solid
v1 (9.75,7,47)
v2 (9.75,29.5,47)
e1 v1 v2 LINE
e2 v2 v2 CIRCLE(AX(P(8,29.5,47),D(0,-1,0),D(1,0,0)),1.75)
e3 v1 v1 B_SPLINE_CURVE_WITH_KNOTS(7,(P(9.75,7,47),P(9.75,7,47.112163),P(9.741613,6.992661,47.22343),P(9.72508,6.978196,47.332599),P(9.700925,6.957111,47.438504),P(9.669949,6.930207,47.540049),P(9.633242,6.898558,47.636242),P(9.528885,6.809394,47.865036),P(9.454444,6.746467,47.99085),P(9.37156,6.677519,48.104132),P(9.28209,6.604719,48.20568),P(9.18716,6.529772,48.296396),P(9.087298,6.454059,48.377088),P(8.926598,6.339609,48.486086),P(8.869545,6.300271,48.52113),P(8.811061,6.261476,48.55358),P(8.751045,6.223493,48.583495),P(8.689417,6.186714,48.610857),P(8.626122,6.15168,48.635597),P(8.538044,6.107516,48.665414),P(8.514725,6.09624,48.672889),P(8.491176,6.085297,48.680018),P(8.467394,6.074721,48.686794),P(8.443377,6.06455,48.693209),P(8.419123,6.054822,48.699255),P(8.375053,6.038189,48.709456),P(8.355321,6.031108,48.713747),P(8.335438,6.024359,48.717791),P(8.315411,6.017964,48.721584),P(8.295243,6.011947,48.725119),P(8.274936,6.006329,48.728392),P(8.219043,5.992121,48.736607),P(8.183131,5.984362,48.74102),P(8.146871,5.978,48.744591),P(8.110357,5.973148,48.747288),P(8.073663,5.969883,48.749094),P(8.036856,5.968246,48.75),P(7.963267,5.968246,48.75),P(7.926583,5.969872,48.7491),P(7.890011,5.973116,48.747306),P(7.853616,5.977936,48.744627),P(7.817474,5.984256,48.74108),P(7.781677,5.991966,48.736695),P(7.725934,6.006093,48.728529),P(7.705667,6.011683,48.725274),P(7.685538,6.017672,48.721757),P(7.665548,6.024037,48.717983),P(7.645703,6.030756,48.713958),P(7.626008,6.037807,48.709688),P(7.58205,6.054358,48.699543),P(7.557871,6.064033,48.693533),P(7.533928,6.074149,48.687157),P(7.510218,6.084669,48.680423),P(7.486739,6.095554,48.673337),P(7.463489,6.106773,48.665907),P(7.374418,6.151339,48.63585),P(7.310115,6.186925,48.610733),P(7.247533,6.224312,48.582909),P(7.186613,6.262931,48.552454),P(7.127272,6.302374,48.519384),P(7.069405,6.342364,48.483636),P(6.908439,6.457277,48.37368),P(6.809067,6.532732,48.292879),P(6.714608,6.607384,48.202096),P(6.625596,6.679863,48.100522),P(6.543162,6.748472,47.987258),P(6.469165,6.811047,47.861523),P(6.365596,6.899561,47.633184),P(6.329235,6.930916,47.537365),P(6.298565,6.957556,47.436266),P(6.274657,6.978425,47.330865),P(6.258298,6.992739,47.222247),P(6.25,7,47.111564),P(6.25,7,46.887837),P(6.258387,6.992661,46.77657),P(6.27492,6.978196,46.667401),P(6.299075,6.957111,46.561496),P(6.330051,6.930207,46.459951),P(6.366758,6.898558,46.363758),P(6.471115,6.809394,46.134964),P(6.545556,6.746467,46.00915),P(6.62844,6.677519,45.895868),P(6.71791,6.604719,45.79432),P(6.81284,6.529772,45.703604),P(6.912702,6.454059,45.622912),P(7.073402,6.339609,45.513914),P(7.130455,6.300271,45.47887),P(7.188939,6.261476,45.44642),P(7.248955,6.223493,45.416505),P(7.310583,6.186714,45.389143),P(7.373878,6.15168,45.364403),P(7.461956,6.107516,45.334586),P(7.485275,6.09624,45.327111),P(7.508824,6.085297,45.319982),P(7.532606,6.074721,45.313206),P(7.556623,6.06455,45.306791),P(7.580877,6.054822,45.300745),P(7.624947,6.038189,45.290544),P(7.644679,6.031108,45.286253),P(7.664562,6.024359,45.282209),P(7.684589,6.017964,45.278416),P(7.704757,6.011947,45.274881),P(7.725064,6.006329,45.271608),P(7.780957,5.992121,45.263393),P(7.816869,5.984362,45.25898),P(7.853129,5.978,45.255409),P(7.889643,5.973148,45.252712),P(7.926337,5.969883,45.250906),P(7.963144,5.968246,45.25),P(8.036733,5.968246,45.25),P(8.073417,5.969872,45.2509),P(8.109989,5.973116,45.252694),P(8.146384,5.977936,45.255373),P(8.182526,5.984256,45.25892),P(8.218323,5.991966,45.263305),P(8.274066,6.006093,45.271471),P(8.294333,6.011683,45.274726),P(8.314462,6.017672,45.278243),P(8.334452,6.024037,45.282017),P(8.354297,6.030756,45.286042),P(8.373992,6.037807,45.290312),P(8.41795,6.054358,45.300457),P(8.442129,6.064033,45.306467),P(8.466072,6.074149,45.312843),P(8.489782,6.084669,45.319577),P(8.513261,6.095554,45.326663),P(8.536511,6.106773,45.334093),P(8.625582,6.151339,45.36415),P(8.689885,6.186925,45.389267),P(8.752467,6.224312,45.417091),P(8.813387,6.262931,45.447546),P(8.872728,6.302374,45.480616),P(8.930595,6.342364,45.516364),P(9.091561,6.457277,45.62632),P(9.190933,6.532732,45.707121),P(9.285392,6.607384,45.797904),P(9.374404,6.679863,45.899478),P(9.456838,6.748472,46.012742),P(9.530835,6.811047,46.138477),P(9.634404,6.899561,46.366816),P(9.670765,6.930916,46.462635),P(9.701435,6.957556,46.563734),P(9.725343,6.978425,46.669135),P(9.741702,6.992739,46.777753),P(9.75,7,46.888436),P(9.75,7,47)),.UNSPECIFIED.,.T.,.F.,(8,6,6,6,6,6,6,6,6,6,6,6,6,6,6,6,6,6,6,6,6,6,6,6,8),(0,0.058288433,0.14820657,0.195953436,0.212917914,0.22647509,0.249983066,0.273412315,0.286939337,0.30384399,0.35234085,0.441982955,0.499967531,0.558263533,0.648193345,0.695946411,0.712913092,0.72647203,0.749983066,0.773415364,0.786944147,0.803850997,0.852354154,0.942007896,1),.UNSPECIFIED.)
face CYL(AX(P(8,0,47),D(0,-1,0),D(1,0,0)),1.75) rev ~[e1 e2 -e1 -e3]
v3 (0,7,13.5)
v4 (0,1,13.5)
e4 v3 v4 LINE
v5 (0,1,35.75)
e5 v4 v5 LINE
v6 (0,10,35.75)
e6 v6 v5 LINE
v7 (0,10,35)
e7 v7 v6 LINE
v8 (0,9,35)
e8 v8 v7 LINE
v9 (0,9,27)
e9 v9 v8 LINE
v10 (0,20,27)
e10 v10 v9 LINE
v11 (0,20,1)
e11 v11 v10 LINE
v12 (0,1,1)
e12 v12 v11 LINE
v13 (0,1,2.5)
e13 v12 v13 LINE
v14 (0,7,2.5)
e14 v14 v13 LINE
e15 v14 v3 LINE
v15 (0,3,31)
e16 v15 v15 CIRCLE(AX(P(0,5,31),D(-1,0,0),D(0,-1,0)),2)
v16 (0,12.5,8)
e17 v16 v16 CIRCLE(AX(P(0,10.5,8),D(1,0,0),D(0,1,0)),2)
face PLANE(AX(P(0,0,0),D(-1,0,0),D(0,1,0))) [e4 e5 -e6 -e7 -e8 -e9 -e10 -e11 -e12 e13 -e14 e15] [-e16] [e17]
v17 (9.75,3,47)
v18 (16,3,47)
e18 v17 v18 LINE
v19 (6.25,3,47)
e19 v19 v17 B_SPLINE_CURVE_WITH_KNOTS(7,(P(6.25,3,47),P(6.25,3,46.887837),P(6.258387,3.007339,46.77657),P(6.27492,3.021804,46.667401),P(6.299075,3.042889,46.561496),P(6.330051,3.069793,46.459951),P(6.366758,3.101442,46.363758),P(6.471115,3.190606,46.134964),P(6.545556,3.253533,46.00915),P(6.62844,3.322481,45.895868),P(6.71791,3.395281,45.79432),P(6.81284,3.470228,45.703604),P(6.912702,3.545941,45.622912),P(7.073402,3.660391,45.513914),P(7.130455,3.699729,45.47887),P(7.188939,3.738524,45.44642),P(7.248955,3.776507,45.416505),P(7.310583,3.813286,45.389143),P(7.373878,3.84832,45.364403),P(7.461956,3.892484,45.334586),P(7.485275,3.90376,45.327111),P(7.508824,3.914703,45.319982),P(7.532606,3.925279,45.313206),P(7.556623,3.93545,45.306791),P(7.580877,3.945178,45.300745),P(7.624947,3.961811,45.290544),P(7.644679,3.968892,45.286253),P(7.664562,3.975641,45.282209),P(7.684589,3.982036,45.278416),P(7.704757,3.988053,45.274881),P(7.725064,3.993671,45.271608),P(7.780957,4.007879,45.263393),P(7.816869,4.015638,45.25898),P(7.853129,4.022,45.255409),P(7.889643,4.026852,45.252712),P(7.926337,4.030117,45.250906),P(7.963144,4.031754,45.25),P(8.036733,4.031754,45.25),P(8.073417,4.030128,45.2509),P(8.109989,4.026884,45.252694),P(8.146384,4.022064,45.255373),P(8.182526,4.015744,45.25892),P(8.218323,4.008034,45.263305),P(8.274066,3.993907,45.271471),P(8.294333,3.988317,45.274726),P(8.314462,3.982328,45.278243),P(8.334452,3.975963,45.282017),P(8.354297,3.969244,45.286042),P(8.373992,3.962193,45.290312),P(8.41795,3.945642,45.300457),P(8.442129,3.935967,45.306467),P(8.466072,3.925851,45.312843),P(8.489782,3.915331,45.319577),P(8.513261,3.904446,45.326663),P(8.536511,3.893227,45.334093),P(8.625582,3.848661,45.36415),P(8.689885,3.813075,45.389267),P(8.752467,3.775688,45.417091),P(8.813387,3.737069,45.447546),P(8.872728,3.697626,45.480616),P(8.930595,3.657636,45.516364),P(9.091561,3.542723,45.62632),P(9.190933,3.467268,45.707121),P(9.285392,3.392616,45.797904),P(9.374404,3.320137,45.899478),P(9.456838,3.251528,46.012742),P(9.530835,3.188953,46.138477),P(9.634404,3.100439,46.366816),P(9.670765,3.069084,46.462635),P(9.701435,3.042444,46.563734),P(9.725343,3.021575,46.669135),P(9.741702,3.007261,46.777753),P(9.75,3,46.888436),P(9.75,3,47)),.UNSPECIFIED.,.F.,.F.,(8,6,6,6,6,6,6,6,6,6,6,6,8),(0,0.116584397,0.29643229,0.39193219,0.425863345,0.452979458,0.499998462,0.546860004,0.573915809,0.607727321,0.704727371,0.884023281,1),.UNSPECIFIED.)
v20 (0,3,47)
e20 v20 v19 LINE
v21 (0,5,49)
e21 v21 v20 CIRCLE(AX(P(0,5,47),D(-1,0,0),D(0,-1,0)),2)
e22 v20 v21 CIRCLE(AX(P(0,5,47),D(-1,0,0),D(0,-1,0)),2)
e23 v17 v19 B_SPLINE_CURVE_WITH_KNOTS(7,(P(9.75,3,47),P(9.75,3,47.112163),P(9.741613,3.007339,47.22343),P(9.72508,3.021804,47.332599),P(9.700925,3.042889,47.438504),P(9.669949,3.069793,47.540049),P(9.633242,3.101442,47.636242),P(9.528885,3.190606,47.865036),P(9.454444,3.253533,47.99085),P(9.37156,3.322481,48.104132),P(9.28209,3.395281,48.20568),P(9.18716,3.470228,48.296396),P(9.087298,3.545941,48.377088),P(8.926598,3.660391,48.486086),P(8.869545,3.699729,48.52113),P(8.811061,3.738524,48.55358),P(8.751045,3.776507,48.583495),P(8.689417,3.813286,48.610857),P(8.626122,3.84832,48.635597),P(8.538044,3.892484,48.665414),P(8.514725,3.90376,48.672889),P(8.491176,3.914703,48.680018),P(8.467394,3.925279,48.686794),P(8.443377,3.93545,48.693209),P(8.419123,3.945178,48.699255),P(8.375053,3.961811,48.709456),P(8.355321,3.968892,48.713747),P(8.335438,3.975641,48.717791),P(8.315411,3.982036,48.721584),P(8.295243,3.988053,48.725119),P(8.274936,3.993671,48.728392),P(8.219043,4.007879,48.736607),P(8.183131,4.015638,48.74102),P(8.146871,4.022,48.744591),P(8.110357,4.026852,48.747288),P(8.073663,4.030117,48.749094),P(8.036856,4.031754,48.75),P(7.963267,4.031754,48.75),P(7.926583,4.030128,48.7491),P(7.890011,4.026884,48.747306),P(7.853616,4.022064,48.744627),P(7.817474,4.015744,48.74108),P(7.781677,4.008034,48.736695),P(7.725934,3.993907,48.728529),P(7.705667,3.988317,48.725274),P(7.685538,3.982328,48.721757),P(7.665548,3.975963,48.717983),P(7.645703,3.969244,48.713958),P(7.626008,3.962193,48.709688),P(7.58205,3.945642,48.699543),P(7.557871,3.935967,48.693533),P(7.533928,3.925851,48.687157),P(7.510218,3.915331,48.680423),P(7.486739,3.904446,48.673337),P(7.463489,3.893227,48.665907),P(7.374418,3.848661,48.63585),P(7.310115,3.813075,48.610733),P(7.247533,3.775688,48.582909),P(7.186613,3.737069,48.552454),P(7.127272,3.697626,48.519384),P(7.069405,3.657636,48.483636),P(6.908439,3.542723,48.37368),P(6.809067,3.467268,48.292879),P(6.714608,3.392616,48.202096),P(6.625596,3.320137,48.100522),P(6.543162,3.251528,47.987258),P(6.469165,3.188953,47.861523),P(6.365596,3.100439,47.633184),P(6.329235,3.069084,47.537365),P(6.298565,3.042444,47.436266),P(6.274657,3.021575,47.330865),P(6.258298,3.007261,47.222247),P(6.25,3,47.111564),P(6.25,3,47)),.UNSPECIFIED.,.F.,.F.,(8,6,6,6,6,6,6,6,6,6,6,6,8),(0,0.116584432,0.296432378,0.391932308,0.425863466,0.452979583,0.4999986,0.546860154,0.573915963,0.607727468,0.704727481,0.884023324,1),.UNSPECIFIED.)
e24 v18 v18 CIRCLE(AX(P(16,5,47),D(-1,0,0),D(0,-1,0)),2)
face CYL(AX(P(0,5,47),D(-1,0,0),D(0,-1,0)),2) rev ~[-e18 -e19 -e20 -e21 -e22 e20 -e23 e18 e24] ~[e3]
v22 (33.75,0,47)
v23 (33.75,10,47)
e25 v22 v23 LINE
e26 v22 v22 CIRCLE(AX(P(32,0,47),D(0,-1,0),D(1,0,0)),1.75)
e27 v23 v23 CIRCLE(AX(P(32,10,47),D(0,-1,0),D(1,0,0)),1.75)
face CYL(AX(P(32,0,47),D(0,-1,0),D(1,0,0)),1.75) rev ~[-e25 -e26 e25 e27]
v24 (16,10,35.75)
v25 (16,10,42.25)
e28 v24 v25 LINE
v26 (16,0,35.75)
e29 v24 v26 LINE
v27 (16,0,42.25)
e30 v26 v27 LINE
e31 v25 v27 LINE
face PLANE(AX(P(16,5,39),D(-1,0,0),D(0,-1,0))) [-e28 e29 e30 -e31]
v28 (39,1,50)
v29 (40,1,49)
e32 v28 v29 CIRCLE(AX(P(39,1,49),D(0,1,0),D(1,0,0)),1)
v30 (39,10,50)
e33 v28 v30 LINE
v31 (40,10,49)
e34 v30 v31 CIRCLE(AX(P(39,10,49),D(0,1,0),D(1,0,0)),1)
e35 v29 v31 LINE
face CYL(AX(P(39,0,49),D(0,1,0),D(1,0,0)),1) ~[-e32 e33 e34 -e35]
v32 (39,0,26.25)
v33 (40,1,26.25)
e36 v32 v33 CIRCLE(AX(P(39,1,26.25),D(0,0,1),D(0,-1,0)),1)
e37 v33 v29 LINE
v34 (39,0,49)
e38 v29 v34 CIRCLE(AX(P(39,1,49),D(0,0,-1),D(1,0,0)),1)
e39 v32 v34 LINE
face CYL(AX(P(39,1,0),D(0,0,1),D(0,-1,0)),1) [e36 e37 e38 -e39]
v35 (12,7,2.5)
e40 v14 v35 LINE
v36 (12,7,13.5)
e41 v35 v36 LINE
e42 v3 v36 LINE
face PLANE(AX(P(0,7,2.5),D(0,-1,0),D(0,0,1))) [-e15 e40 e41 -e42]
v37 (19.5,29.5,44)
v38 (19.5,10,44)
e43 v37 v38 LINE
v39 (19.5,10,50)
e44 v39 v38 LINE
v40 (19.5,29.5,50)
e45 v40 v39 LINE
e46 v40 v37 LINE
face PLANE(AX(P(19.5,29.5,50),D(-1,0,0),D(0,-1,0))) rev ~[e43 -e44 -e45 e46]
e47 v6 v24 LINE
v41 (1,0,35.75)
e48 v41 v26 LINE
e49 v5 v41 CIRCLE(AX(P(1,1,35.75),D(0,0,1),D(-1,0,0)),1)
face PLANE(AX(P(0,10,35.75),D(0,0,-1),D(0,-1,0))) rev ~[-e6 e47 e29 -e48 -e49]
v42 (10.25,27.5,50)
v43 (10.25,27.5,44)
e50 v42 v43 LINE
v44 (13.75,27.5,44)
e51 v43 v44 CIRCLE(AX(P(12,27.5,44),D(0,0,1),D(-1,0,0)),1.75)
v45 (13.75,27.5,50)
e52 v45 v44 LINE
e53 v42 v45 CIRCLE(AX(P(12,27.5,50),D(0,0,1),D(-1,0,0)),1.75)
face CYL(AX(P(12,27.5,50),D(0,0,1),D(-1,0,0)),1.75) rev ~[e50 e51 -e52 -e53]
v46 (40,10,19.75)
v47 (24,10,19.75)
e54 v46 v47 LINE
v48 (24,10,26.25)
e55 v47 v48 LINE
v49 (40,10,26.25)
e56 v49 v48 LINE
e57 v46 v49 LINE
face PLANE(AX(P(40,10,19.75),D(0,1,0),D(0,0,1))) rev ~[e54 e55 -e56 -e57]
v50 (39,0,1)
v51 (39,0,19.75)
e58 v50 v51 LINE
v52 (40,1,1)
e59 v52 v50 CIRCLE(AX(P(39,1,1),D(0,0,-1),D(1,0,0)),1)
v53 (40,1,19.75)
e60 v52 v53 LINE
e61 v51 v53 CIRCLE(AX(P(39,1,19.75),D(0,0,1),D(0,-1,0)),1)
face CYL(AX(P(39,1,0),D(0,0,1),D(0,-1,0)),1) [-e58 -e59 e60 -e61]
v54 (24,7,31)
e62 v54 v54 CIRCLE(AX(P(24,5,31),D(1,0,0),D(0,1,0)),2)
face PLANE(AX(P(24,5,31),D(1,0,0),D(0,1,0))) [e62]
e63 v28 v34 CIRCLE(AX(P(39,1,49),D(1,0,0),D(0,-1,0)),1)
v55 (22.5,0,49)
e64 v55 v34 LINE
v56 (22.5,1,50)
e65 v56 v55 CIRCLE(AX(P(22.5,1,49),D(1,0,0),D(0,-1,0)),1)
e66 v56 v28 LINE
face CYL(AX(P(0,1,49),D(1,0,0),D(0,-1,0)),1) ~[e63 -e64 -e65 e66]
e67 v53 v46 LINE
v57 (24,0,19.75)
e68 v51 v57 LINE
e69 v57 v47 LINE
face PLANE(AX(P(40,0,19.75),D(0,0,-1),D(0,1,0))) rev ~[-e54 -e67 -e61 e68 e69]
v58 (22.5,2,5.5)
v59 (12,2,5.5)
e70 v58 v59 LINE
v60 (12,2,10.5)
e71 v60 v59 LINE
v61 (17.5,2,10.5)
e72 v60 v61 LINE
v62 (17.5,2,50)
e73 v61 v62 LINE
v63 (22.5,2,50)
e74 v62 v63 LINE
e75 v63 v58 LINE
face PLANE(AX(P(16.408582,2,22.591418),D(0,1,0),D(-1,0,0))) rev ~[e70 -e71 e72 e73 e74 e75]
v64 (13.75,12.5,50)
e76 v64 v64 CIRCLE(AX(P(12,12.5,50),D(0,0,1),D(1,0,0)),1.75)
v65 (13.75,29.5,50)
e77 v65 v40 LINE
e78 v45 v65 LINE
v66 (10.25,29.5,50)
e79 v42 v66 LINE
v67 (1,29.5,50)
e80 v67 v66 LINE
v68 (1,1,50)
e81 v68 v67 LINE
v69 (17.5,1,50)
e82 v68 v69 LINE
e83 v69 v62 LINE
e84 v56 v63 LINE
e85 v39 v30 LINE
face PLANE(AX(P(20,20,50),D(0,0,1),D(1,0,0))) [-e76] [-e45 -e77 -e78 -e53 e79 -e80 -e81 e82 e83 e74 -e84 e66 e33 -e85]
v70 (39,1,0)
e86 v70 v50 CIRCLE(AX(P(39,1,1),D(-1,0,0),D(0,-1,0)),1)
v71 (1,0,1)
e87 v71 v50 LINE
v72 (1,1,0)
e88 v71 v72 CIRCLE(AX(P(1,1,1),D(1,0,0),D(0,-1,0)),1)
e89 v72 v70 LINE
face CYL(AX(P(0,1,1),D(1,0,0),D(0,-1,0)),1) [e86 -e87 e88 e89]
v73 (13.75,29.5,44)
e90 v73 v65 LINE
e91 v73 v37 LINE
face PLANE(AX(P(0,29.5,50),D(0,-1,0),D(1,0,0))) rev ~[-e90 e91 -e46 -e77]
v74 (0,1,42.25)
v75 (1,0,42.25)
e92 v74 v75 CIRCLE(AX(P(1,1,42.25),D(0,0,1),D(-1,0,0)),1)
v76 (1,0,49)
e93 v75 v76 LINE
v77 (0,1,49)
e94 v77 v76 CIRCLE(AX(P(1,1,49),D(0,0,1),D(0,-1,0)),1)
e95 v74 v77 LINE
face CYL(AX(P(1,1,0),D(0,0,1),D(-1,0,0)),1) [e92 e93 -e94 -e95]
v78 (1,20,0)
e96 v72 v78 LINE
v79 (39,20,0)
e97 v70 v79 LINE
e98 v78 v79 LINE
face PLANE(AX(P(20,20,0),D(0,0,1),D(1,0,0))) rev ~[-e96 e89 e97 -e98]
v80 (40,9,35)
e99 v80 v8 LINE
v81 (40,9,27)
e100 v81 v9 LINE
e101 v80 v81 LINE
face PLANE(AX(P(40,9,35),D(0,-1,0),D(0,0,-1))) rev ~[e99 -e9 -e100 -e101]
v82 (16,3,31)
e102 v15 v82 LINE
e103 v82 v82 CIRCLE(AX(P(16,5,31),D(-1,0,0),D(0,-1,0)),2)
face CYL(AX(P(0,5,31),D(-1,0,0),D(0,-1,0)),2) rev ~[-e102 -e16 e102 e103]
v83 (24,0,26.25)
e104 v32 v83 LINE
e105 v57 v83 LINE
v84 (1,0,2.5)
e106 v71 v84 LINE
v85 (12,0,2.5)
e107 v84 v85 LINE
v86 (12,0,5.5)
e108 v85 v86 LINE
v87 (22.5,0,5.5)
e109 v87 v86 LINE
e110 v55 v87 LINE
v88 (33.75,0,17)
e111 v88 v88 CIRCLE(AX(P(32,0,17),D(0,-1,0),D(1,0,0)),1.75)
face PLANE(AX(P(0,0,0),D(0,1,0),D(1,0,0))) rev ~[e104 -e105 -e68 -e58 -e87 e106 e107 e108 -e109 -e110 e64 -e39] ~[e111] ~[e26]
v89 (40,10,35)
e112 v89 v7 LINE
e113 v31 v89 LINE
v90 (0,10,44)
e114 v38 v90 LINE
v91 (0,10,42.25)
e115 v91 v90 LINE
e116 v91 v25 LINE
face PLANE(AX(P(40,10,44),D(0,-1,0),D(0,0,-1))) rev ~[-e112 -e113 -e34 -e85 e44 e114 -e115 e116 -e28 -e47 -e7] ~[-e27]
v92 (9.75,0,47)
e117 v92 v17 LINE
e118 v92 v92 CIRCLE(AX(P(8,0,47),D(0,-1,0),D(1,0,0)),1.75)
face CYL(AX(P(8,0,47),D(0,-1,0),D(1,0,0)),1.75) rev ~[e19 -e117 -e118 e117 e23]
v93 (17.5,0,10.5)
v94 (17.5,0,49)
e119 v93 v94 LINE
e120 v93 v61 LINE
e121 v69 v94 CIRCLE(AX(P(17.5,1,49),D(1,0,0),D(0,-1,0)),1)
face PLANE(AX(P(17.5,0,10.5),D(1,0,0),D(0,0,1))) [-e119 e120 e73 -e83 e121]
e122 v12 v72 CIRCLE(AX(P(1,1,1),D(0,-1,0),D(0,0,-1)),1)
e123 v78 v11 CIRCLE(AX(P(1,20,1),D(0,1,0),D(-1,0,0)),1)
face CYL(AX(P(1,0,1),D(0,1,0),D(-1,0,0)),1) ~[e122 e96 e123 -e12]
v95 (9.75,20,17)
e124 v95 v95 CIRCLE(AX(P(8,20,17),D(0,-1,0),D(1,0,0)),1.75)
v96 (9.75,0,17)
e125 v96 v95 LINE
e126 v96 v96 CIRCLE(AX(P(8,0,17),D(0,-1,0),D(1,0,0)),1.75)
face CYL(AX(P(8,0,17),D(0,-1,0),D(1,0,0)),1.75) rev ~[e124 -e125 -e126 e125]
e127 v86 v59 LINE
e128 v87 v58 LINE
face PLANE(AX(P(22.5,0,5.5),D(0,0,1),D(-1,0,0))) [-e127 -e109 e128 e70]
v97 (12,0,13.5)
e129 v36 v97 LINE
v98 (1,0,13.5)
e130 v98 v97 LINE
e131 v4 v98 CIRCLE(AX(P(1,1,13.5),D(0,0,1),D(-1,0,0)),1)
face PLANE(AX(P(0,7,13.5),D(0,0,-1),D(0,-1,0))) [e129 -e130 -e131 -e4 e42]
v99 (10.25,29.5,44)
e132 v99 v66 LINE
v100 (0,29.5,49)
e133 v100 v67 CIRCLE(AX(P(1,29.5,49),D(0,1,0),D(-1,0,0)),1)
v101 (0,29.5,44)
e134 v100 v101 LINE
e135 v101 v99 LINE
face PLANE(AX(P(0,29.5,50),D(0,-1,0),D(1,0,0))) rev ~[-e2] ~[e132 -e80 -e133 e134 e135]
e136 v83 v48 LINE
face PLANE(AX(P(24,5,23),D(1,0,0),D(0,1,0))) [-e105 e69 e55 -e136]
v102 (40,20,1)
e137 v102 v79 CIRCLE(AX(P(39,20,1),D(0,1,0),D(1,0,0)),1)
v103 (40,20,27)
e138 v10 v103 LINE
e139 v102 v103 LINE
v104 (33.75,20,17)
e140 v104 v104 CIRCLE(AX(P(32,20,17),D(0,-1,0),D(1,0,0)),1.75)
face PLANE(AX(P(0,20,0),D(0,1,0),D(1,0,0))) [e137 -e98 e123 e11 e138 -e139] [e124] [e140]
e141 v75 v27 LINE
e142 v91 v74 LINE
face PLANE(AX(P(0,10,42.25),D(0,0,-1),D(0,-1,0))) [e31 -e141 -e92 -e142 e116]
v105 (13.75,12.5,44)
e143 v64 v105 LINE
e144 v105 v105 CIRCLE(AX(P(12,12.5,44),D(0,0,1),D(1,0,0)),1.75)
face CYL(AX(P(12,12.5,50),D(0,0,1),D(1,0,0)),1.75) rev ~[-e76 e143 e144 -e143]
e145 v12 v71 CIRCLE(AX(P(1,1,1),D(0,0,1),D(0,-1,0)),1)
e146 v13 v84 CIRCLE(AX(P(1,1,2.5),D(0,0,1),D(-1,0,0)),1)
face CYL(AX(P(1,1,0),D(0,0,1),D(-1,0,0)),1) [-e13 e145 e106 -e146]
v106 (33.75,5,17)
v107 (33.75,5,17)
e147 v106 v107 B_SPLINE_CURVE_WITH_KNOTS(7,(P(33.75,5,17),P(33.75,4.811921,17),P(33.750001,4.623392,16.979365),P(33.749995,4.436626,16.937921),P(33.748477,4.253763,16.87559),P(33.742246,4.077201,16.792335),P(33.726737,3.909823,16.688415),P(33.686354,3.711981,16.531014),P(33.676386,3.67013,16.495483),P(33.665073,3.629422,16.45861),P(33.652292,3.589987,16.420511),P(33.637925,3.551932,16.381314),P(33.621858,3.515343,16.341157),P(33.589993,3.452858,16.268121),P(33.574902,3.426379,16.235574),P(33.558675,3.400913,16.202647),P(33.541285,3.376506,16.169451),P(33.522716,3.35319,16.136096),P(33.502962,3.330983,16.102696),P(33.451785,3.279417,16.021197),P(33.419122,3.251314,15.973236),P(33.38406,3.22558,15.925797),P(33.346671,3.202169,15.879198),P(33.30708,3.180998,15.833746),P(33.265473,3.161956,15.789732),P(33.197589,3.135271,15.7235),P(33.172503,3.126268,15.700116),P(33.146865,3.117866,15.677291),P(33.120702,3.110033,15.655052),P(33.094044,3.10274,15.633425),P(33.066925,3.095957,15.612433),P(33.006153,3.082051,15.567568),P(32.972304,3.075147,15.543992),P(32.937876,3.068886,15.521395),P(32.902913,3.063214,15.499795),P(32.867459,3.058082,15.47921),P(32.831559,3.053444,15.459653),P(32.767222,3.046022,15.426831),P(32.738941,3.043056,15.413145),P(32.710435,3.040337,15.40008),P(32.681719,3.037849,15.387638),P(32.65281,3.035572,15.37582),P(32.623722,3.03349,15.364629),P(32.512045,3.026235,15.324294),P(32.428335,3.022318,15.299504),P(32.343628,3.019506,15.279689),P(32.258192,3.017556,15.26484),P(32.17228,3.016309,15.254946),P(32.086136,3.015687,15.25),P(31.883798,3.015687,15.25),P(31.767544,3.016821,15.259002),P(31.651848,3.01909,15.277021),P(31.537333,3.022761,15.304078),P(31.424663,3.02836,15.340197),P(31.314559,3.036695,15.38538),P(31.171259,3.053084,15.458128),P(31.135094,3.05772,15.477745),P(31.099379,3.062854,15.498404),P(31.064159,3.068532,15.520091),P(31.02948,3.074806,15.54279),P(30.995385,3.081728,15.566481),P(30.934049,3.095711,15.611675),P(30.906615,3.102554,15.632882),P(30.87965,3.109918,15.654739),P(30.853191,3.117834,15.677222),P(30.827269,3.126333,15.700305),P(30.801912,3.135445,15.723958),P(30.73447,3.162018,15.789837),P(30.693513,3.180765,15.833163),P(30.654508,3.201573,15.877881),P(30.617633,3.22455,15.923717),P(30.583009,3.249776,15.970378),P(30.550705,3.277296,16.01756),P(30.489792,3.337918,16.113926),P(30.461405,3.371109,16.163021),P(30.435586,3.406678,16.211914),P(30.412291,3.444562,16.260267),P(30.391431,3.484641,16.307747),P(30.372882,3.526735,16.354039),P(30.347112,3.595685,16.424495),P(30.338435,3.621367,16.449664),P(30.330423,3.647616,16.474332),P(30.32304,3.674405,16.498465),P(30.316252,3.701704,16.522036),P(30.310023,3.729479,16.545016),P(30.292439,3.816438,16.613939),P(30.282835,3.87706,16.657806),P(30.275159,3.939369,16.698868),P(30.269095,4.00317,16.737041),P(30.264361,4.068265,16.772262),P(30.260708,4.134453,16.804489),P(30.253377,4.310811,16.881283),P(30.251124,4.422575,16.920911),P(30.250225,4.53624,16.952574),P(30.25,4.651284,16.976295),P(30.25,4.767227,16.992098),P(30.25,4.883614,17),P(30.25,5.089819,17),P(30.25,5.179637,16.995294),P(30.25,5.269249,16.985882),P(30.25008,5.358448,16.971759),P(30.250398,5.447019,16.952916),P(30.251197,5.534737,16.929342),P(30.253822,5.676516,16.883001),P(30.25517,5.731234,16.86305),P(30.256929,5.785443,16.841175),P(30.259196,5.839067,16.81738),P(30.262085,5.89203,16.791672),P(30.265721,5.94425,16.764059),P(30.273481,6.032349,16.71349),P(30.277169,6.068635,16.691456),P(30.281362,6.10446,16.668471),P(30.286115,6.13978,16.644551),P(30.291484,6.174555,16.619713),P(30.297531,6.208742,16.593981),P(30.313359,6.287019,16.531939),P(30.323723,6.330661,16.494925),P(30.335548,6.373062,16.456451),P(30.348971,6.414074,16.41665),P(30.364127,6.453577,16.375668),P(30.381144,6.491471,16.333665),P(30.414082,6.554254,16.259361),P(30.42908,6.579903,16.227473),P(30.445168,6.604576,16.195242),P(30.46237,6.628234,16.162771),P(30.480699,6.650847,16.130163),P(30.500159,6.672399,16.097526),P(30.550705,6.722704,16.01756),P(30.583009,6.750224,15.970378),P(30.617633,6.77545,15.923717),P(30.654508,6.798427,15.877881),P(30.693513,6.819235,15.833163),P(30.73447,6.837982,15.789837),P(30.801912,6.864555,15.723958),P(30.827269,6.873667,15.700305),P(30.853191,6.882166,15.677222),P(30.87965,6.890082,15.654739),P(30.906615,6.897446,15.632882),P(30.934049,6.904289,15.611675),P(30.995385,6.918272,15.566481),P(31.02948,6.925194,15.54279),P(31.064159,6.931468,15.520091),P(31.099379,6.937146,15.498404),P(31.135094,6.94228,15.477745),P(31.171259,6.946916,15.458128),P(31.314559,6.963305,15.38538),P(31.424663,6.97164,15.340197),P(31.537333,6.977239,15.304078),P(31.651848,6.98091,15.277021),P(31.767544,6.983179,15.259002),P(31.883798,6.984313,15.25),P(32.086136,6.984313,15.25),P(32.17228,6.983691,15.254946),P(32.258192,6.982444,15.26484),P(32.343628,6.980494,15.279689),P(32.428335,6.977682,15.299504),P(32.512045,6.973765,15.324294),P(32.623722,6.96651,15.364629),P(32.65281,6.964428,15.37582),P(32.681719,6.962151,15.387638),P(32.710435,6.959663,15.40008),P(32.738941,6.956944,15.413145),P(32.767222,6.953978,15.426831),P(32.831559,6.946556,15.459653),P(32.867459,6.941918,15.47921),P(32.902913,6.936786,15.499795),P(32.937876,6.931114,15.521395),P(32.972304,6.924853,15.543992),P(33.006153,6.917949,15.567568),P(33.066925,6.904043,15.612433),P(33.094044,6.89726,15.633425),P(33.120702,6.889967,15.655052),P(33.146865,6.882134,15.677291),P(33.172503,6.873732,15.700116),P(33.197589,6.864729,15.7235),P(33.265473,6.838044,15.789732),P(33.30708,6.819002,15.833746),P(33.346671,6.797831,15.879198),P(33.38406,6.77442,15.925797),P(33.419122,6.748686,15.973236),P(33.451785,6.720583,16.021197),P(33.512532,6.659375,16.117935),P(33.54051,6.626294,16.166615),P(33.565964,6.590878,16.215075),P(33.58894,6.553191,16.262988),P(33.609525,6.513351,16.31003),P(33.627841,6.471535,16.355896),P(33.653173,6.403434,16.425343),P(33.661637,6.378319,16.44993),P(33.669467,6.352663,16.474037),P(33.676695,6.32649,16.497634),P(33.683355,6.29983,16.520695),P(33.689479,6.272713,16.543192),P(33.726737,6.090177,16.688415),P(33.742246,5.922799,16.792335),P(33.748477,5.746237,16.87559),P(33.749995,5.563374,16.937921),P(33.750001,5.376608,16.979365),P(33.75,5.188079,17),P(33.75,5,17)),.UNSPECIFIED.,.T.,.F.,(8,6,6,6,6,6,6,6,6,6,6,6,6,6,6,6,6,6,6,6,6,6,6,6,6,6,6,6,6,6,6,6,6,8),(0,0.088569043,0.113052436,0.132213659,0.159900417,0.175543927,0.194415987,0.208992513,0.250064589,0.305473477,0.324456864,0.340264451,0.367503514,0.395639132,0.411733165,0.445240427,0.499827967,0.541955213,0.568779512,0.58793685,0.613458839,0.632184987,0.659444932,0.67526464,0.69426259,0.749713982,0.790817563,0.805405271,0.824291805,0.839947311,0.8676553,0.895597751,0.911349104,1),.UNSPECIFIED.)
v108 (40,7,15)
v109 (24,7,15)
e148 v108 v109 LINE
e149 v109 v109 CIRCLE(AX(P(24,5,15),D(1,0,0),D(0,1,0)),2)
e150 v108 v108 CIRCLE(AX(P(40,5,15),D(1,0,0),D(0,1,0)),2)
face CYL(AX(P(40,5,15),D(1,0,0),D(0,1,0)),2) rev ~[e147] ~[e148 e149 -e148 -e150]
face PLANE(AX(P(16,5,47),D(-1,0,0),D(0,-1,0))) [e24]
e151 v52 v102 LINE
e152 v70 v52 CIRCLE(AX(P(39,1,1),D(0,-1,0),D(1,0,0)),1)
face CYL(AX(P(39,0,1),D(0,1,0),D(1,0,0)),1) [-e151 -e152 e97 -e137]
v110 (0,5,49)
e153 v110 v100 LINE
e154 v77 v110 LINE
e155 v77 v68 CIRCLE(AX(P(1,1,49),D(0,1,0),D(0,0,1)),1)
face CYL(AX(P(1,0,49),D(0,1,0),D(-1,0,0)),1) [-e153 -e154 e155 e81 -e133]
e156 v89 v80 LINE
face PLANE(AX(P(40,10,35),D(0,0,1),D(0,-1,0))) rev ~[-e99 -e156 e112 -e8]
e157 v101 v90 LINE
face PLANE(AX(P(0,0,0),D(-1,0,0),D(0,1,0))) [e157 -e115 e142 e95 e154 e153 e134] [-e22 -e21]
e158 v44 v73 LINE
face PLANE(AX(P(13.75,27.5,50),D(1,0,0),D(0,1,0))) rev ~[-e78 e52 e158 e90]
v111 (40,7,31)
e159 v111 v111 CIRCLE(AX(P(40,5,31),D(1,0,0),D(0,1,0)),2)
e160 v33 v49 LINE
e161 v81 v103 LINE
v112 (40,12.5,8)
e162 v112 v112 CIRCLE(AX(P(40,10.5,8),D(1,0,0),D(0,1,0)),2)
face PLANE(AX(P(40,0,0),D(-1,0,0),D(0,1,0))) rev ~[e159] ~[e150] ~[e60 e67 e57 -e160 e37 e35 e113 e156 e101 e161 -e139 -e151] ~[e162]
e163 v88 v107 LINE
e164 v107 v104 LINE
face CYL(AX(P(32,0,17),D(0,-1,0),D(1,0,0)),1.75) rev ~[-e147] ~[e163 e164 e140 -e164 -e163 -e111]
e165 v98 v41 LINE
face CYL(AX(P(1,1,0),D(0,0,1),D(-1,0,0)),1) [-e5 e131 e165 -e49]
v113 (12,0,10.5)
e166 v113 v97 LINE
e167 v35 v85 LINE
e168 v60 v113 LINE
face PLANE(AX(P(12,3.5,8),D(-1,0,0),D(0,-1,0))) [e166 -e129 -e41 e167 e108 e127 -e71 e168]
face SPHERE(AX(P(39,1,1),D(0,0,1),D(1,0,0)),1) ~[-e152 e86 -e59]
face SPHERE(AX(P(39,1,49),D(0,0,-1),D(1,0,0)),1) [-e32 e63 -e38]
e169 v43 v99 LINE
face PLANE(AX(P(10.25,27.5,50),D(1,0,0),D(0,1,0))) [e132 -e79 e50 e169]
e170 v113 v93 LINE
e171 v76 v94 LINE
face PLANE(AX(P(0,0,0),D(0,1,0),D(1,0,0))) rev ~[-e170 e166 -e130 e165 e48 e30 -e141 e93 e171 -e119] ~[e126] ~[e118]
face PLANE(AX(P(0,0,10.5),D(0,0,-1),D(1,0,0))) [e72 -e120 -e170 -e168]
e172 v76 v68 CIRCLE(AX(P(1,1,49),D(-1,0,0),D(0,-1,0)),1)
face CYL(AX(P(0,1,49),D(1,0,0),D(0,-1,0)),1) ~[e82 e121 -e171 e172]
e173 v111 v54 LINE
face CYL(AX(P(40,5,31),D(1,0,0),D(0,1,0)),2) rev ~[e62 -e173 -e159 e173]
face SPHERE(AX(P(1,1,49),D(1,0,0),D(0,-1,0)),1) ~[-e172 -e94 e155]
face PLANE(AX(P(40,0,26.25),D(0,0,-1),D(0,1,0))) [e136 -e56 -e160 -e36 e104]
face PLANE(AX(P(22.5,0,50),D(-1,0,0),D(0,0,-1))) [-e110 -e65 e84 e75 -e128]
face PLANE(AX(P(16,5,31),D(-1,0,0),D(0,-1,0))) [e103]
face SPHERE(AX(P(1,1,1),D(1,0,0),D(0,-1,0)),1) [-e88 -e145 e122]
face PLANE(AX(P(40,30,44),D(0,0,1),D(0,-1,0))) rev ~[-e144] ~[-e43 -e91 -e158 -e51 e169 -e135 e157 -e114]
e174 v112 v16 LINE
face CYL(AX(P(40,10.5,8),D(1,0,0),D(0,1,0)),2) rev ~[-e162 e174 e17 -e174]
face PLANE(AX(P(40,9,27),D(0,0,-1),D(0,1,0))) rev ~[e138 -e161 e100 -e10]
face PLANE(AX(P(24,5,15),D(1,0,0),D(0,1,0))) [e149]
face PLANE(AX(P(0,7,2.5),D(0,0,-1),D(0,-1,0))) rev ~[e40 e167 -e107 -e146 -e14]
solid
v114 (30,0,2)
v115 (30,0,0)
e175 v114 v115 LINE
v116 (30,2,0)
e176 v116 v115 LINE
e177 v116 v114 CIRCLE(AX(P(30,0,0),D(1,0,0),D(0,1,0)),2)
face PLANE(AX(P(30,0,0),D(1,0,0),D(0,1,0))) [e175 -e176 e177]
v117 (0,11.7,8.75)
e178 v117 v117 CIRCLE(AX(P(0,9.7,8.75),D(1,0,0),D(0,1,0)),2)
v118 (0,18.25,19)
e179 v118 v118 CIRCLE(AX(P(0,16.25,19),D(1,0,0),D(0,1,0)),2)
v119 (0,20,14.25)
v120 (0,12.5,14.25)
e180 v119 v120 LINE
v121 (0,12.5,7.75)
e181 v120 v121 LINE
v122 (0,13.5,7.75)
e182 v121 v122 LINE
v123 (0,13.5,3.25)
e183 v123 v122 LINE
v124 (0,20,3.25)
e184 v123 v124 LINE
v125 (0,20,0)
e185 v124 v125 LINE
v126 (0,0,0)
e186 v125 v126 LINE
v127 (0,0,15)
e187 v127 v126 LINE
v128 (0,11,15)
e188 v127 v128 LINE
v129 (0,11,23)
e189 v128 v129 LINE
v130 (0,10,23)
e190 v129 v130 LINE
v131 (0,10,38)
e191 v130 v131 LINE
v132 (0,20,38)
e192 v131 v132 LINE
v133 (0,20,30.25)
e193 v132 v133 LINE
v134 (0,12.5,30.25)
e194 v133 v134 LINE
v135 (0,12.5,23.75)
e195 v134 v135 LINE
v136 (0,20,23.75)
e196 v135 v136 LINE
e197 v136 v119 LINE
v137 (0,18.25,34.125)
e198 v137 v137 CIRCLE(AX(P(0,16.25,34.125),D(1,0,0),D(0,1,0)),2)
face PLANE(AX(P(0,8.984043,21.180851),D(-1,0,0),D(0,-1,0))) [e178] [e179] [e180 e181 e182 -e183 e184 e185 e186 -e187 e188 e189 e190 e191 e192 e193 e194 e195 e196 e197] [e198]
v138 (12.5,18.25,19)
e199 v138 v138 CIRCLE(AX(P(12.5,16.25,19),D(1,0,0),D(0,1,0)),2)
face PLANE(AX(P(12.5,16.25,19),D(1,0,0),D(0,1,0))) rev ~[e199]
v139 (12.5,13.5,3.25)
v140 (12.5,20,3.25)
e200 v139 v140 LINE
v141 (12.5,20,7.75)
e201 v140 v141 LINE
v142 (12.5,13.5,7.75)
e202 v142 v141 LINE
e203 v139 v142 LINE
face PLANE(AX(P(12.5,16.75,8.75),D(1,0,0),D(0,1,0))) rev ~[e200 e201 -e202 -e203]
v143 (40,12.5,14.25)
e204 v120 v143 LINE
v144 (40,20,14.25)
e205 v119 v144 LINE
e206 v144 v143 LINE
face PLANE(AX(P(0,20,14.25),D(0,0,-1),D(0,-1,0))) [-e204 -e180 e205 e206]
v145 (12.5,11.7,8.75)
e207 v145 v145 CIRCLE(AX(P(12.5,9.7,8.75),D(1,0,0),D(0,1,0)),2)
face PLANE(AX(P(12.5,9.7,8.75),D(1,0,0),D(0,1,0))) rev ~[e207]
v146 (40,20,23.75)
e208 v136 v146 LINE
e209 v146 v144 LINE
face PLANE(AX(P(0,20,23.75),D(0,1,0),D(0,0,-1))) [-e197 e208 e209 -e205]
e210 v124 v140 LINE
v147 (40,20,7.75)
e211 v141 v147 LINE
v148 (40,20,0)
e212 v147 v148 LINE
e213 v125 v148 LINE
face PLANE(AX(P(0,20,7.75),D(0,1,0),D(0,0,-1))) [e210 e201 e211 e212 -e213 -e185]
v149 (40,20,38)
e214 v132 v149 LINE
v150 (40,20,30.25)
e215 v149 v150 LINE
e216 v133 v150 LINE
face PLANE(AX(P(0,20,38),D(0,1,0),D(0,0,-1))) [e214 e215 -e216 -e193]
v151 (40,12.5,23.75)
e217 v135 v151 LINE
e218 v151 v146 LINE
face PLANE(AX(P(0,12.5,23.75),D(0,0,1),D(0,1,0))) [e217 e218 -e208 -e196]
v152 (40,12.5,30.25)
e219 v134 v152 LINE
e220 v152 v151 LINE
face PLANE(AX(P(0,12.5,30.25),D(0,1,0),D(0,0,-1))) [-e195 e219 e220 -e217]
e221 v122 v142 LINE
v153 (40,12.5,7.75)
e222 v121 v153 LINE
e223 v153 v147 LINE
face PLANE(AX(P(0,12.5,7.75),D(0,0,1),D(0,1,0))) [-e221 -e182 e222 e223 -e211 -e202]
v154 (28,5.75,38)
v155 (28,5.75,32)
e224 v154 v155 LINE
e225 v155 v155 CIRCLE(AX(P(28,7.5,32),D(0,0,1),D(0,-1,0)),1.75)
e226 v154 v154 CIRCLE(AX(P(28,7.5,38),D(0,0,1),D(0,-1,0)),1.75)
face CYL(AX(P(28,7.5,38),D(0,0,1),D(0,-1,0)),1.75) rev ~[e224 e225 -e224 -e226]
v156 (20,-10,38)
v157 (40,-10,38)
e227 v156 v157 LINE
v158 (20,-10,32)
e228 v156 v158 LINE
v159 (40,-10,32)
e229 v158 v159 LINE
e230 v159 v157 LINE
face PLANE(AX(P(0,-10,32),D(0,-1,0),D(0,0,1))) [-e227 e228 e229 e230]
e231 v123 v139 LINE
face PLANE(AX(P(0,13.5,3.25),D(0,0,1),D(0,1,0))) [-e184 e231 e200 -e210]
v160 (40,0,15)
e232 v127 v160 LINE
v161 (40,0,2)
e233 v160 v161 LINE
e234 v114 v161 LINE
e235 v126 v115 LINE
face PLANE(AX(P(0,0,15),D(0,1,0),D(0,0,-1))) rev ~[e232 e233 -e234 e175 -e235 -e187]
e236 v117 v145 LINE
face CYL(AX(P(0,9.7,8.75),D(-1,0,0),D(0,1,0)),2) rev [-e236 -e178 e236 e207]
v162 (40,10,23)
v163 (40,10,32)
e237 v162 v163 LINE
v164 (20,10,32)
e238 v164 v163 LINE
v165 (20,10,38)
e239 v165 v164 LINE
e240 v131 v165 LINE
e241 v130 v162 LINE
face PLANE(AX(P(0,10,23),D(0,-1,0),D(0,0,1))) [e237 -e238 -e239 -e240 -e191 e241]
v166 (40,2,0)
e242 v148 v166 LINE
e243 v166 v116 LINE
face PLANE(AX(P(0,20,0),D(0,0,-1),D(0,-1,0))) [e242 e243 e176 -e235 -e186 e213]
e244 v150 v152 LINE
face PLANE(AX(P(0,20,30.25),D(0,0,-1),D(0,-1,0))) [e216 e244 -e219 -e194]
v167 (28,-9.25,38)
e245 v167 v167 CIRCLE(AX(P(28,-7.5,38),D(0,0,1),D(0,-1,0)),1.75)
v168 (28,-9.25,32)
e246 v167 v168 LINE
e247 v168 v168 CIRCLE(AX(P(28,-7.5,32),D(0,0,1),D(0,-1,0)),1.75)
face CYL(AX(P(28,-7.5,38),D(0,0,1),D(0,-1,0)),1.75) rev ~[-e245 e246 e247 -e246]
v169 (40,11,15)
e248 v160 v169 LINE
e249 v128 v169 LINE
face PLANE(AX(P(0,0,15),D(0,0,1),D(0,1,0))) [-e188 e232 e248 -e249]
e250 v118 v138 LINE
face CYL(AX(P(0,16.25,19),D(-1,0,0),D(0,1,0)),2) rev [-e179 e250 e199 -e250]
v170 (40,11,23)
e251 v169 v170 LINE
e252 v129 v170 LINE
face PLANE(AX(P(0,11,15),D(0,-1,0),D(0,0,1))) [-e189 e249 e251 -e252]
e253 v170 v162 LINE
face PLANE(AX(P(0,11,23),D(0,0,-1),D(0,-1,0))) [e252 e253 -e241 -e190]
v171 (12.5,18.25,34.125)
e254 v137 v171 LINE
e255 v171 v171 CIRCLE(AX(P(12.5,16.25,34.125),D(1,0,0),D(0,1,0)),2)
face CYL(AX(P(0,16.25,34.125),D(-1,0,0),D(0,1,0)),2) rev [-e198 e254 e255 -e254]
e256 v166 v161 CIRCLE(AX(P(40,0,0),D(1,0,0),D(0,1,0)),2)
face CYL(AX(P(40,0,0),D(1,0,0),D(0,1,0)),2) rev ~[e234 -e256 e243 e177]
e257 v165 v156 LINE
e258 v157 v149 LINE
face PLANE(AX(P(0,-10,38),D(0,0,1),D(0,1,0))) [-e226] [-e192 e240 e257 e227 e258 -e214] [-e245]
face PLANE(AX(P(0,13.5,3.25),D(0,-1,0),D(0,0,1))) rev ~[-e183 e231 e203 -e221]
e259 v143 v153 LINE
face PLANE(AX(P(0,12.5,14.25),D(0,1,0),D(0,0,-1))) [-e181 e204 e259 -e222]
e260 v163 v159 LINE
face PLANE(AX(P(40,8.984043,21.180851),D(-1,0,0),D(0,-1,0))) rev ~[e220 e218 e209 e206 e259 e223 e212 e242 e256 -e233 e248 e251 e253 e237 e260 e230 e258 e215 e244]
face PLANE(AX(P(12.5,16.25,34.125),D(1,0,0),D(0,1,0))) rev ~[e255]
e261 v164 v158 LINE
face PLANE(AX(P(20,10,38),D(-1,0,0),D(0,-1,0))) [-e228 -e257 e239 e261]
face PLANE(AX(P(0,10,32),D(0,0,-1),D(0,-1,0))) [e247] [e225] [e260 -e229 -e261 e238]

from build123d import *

# Parameters (mm, degrees)
PAD_DEPTH       = 40
SKETCH001_R     = 2
SKETCH001_W     = 6.5
SKETCH001_H     = 11
POCKET_DEPTH    = 12.5
SKETCH002_R     = 1.75
SKETCH002_W     = 20
SKETCH002_H     = 20
POCKET001_DEPTH = 6
SKETCH003_R     = 2
POCKET002_DEPTH = 10
BOX_W           = 40
BOX_H           = 40
BOX_DEPTH       = 50
FILLET_R        = 1
POCKET003_DEPTH = 40.001
POCKET005_DEPTH = 6
SKETCH007_W     = 40
SKETCH007_H     = 20
POCKET006_DEPTH = 44
SKETCH005_R     = 2
SKETCH005_W     = 10
SKETCH005_H     = 6.5
POCKET004_DEPTH = 16
SKETCH008_R     = 2
SKETCH008_W     = 10
SKETCH008_H     = 6.5
POCKET007_DEPTH = 16
SKETCH010_R     = 2
POCKET009_DEPTH = 40.001
SKETCH009_W     = 7
SKETCH009_H     = 11
POCKET008_DEPTH = 12
SKETCH011_R     = 1.75
POCKET010_DEPTH = 29.501
SKETCH012_R     = 1.75
POCKET011_DEPTH = 6
POCKET012_DEPTH = 2


with BuildPart() as body:
    # Sketch → Pad (new body)
    with BuildSketch(Plane.YZ):
        Polygon((11, 15), (11, 23), (10, 23), (10, 32), (-10, 32), (-10, 38), (20, 38), (20, 30.25), (12.5, 30.25), (12.5, 23.75), (20, 23.75), (20, 14.25), (12.5, 14.25), (12.5, 7.75), (20, 7.75), (20, 0), (0, 0), (0, 6), (0, 15), align=None)
    extrude(amount=PAD_DEPTH)

    # Sketch001 → Pocket (cut)
    with BuildSketch(Plane.YZ):
        with Locations((9.7, 8.75)):
            Circle(SKETCH001_R)
        with Locations((16.25, 34.125)):
            Circle(SKETCH001_R)
        with Locations((16.25, 19)):
            Circle(SKETCH001_R)
        with Locations((16.75, 8.75)):
            Rectangle(SKETCH001_W, SKETCH001_H)
    extrude(amount=POCKET_DEPTH, mode=Mode.SUBTRACT)

    # Sketch002 (on Face21 of Pocket) → Pocket001 (cut)
    with BuildSketch(Plane(origin=(0, 0, 38), x_dir=(0, -1, 0), z_dir=(0, 0, 1))):
        with Locations((-7.5, 28)):
            Circle(SKETCH002_R)
        with Locations((7.5, 28)):
            Circle(SKETCH002_R)
        with Locations((0, 10)):
            Rectangle(SKETCH002_W, SKETCH002_H)
    extrude(amount=-POCKET001_DEPTH, mode=Mode.SUBTRACT)

    # Sketch003 (on Face5 of Pocket001) → Pocket002 (cut)
    with BuildSketch(Plane.YZ.offset(40)):
        Circle(SKETCH003_R)
        with Locations((16.25, 11)):
            Circle(SKETCH003_R)
        with Locations((-10.3, 2.25)):
            Circle(SKETCH003_R)
    extrude(amount=-POCKET002_DEPTH, mode=Mode.SUBTRACT)


with BuildPart() as body001:
    # Box → Box (new body)
    with BuildSketch(Plane.XY):
        with Locations((20, 20)):
            Rectangle(BOX_W, BOX_H)
    extrude(amount=BOX_DEPTH)

    # Fillet
    fillet_edges = [body001.edges().sort_by_distance(p)[0] for p in [
        (40, 0, 25),
        (40, 20, 50),
        (40, 40, 25),
        (40, 20, 0),
        (20, 0, 0),
        (20, 0, 50),
        (0, 0, 25),
        (0, 20, 50),
        (20, 40, 50),
        (20, 40, 0),
        (0, 40, 25),
        (0, 20, 0),
    ]]
    fillet(fillet_edges, radius=FILLET_R)

    # Sketch004 (on Face2 of BaseFeature) → Pocket003 (cut, through all)
    with BuildSketch(Plane.YZ.offset(40)):
        Polygon((31, 27), (31, 35), (30, 35), (30, 44), (10, 44), (10, 35), (9, 35), (9, 27), align=None)
    extrude(amount=-POCKET003_DEPTH, mode=Mode.SUBTRACT)

    # Sketch006 (on Face6 of BaseFeature) → Pocket005 (cut)
    with BuildSketch(Plane.XY.offset(50)):
        Polygon((0, 29.5), (19.5, 29.5), (19.5, 10), (40, 10), (40, 40), (0, 40), align=None)
    extrude(amount=-POCKET005_DEPTH, mode=Mode.SUBTRACT)

    # Sketch007 (on Face5 of BaseFeature) → Pocket006 (cut)
    with BuildSketch(Plane(origin=(0, 0, 0), x_dir=(1, 0, 0), z_dir=(0, 0, -1))):
        with Locations((20, -30)):
            Rectangle(SKETCH007_W, SKETCH007_H)
    extrude(amount=-POCKET006_DEPTH, mode=Mode.SUBTRACT)

    # Sketch005 (on Face2 of BaseFeature) → Pocket004 (cut)
    with BuildSketch(Plane.YZ.offset(40)):
        with Locations((5, 15)):
            Circle(SKETCH005_R)
        with Locations((5, 31)):
            Circle(SKETCH005_R)
        with Locations((5, 23)):
            Rectangle(SKETCH005_W, SKETCH005_H)
    extrude(amount=-POCKET004_DEPTH, mode=Mode.SUBTRACT)

    # Sketch008 (on Face1 of BaseFeature) → Pocket007 (cut)
    with BuildSketch(Plane(origin=(0, 0, 0), x_dir=(0, -1, 0), z_dir=(-1, 0, 0))):
        with Locations((-5, 47)):
            Circle(SKETCH008_R)
        with Locations((-5, 31)):
            Circle(SKETCH008_R)
        with Locations((-5, 39)):
            Rectangle(SKETCH008_W, SKETCH008_H)
    extrude(amount=-POCKET007_DEPTH, mode=Mode.SUBTRACT)

    # Sketch010 (on Face2 of BaseFeature) → Pocket009 (cut, through all)
    with BuildSketch(Plane.YZ.offset(40)):
        with Locations((10.5, 8)):
            Circle(SKETCH010_R)
    extrude(amount=-POCKET009_DEPTH, mode=Mode.SUBTRACT)

    # Sketch009 (on Face1 of BaseFeature) → Pocket008 (cut)
    with BuildSketch(Plane(origin=(0, 0, 0), x_dir=(0, -1, 0), z_dir=(-1, 0, 0))):
        with Locations((-3.5, 8)):
            Rectangle(SKETCH009_W, SKETCH009_H)
    extrude(amount=-POCKET008_DEPTH, mode=Mode.SUBTRACT)

    # Sketch011 (on Face3 of BaseFeature) → Pocket010 (cut, through all)
    with BuildSketch(Plane.XZ):
        with Locations((8, 47)):
            Circle(SKETCH011_R)
        with Locations((32, 47)):
            Circle(SKETCH011_R)
        with Locations((8, 17)):
            Circle(SKETCH011_R)
        with Locations((32, 17)):
            Circle(SKETCH011_R)
    extrude(amount=-POCKET010_DEPTH, mode=Mode.SUBTRACT)

    # Sketch012 (on Face6 of BaseFeature) → Pocket011 (cut)
    with BuildSketch(Plane.XY.offset(50)):
        with Locations((12, 12.5)):
            Circle(SKETCH012_R)
        with BuildLine():
            ThreePointArc((10.25, 27.5), (12, 25.75), (13.75, 27.5))
            Line((13.75, 27.5), (13.75, 32.5))
            ThreePointArc((13.75, 32.5), (12, 34.25), (10.25, 32.5))
            Line((10.25, 27.5), (10.25, 32.5))
        make_face()
    extrude(amount=-POCKET011_DEPTH, mode=Mode.SUBTRACT)

    # Sketch013 (on Face3 of BaseFeature) → Pocket012 (cut)
    with BuildSketch(Plane.XZ):
        Polygon((17.5, 50), (22.5, 50), (22.5, 5.5), (0, 5.5), (0, 10.5), (17.5, 10.5), align=None)
    extrude(amount=-POCKET012_DEPTH, mode=Mode.SUBTRACT)


solid = Compound([body.part, body001.part])
